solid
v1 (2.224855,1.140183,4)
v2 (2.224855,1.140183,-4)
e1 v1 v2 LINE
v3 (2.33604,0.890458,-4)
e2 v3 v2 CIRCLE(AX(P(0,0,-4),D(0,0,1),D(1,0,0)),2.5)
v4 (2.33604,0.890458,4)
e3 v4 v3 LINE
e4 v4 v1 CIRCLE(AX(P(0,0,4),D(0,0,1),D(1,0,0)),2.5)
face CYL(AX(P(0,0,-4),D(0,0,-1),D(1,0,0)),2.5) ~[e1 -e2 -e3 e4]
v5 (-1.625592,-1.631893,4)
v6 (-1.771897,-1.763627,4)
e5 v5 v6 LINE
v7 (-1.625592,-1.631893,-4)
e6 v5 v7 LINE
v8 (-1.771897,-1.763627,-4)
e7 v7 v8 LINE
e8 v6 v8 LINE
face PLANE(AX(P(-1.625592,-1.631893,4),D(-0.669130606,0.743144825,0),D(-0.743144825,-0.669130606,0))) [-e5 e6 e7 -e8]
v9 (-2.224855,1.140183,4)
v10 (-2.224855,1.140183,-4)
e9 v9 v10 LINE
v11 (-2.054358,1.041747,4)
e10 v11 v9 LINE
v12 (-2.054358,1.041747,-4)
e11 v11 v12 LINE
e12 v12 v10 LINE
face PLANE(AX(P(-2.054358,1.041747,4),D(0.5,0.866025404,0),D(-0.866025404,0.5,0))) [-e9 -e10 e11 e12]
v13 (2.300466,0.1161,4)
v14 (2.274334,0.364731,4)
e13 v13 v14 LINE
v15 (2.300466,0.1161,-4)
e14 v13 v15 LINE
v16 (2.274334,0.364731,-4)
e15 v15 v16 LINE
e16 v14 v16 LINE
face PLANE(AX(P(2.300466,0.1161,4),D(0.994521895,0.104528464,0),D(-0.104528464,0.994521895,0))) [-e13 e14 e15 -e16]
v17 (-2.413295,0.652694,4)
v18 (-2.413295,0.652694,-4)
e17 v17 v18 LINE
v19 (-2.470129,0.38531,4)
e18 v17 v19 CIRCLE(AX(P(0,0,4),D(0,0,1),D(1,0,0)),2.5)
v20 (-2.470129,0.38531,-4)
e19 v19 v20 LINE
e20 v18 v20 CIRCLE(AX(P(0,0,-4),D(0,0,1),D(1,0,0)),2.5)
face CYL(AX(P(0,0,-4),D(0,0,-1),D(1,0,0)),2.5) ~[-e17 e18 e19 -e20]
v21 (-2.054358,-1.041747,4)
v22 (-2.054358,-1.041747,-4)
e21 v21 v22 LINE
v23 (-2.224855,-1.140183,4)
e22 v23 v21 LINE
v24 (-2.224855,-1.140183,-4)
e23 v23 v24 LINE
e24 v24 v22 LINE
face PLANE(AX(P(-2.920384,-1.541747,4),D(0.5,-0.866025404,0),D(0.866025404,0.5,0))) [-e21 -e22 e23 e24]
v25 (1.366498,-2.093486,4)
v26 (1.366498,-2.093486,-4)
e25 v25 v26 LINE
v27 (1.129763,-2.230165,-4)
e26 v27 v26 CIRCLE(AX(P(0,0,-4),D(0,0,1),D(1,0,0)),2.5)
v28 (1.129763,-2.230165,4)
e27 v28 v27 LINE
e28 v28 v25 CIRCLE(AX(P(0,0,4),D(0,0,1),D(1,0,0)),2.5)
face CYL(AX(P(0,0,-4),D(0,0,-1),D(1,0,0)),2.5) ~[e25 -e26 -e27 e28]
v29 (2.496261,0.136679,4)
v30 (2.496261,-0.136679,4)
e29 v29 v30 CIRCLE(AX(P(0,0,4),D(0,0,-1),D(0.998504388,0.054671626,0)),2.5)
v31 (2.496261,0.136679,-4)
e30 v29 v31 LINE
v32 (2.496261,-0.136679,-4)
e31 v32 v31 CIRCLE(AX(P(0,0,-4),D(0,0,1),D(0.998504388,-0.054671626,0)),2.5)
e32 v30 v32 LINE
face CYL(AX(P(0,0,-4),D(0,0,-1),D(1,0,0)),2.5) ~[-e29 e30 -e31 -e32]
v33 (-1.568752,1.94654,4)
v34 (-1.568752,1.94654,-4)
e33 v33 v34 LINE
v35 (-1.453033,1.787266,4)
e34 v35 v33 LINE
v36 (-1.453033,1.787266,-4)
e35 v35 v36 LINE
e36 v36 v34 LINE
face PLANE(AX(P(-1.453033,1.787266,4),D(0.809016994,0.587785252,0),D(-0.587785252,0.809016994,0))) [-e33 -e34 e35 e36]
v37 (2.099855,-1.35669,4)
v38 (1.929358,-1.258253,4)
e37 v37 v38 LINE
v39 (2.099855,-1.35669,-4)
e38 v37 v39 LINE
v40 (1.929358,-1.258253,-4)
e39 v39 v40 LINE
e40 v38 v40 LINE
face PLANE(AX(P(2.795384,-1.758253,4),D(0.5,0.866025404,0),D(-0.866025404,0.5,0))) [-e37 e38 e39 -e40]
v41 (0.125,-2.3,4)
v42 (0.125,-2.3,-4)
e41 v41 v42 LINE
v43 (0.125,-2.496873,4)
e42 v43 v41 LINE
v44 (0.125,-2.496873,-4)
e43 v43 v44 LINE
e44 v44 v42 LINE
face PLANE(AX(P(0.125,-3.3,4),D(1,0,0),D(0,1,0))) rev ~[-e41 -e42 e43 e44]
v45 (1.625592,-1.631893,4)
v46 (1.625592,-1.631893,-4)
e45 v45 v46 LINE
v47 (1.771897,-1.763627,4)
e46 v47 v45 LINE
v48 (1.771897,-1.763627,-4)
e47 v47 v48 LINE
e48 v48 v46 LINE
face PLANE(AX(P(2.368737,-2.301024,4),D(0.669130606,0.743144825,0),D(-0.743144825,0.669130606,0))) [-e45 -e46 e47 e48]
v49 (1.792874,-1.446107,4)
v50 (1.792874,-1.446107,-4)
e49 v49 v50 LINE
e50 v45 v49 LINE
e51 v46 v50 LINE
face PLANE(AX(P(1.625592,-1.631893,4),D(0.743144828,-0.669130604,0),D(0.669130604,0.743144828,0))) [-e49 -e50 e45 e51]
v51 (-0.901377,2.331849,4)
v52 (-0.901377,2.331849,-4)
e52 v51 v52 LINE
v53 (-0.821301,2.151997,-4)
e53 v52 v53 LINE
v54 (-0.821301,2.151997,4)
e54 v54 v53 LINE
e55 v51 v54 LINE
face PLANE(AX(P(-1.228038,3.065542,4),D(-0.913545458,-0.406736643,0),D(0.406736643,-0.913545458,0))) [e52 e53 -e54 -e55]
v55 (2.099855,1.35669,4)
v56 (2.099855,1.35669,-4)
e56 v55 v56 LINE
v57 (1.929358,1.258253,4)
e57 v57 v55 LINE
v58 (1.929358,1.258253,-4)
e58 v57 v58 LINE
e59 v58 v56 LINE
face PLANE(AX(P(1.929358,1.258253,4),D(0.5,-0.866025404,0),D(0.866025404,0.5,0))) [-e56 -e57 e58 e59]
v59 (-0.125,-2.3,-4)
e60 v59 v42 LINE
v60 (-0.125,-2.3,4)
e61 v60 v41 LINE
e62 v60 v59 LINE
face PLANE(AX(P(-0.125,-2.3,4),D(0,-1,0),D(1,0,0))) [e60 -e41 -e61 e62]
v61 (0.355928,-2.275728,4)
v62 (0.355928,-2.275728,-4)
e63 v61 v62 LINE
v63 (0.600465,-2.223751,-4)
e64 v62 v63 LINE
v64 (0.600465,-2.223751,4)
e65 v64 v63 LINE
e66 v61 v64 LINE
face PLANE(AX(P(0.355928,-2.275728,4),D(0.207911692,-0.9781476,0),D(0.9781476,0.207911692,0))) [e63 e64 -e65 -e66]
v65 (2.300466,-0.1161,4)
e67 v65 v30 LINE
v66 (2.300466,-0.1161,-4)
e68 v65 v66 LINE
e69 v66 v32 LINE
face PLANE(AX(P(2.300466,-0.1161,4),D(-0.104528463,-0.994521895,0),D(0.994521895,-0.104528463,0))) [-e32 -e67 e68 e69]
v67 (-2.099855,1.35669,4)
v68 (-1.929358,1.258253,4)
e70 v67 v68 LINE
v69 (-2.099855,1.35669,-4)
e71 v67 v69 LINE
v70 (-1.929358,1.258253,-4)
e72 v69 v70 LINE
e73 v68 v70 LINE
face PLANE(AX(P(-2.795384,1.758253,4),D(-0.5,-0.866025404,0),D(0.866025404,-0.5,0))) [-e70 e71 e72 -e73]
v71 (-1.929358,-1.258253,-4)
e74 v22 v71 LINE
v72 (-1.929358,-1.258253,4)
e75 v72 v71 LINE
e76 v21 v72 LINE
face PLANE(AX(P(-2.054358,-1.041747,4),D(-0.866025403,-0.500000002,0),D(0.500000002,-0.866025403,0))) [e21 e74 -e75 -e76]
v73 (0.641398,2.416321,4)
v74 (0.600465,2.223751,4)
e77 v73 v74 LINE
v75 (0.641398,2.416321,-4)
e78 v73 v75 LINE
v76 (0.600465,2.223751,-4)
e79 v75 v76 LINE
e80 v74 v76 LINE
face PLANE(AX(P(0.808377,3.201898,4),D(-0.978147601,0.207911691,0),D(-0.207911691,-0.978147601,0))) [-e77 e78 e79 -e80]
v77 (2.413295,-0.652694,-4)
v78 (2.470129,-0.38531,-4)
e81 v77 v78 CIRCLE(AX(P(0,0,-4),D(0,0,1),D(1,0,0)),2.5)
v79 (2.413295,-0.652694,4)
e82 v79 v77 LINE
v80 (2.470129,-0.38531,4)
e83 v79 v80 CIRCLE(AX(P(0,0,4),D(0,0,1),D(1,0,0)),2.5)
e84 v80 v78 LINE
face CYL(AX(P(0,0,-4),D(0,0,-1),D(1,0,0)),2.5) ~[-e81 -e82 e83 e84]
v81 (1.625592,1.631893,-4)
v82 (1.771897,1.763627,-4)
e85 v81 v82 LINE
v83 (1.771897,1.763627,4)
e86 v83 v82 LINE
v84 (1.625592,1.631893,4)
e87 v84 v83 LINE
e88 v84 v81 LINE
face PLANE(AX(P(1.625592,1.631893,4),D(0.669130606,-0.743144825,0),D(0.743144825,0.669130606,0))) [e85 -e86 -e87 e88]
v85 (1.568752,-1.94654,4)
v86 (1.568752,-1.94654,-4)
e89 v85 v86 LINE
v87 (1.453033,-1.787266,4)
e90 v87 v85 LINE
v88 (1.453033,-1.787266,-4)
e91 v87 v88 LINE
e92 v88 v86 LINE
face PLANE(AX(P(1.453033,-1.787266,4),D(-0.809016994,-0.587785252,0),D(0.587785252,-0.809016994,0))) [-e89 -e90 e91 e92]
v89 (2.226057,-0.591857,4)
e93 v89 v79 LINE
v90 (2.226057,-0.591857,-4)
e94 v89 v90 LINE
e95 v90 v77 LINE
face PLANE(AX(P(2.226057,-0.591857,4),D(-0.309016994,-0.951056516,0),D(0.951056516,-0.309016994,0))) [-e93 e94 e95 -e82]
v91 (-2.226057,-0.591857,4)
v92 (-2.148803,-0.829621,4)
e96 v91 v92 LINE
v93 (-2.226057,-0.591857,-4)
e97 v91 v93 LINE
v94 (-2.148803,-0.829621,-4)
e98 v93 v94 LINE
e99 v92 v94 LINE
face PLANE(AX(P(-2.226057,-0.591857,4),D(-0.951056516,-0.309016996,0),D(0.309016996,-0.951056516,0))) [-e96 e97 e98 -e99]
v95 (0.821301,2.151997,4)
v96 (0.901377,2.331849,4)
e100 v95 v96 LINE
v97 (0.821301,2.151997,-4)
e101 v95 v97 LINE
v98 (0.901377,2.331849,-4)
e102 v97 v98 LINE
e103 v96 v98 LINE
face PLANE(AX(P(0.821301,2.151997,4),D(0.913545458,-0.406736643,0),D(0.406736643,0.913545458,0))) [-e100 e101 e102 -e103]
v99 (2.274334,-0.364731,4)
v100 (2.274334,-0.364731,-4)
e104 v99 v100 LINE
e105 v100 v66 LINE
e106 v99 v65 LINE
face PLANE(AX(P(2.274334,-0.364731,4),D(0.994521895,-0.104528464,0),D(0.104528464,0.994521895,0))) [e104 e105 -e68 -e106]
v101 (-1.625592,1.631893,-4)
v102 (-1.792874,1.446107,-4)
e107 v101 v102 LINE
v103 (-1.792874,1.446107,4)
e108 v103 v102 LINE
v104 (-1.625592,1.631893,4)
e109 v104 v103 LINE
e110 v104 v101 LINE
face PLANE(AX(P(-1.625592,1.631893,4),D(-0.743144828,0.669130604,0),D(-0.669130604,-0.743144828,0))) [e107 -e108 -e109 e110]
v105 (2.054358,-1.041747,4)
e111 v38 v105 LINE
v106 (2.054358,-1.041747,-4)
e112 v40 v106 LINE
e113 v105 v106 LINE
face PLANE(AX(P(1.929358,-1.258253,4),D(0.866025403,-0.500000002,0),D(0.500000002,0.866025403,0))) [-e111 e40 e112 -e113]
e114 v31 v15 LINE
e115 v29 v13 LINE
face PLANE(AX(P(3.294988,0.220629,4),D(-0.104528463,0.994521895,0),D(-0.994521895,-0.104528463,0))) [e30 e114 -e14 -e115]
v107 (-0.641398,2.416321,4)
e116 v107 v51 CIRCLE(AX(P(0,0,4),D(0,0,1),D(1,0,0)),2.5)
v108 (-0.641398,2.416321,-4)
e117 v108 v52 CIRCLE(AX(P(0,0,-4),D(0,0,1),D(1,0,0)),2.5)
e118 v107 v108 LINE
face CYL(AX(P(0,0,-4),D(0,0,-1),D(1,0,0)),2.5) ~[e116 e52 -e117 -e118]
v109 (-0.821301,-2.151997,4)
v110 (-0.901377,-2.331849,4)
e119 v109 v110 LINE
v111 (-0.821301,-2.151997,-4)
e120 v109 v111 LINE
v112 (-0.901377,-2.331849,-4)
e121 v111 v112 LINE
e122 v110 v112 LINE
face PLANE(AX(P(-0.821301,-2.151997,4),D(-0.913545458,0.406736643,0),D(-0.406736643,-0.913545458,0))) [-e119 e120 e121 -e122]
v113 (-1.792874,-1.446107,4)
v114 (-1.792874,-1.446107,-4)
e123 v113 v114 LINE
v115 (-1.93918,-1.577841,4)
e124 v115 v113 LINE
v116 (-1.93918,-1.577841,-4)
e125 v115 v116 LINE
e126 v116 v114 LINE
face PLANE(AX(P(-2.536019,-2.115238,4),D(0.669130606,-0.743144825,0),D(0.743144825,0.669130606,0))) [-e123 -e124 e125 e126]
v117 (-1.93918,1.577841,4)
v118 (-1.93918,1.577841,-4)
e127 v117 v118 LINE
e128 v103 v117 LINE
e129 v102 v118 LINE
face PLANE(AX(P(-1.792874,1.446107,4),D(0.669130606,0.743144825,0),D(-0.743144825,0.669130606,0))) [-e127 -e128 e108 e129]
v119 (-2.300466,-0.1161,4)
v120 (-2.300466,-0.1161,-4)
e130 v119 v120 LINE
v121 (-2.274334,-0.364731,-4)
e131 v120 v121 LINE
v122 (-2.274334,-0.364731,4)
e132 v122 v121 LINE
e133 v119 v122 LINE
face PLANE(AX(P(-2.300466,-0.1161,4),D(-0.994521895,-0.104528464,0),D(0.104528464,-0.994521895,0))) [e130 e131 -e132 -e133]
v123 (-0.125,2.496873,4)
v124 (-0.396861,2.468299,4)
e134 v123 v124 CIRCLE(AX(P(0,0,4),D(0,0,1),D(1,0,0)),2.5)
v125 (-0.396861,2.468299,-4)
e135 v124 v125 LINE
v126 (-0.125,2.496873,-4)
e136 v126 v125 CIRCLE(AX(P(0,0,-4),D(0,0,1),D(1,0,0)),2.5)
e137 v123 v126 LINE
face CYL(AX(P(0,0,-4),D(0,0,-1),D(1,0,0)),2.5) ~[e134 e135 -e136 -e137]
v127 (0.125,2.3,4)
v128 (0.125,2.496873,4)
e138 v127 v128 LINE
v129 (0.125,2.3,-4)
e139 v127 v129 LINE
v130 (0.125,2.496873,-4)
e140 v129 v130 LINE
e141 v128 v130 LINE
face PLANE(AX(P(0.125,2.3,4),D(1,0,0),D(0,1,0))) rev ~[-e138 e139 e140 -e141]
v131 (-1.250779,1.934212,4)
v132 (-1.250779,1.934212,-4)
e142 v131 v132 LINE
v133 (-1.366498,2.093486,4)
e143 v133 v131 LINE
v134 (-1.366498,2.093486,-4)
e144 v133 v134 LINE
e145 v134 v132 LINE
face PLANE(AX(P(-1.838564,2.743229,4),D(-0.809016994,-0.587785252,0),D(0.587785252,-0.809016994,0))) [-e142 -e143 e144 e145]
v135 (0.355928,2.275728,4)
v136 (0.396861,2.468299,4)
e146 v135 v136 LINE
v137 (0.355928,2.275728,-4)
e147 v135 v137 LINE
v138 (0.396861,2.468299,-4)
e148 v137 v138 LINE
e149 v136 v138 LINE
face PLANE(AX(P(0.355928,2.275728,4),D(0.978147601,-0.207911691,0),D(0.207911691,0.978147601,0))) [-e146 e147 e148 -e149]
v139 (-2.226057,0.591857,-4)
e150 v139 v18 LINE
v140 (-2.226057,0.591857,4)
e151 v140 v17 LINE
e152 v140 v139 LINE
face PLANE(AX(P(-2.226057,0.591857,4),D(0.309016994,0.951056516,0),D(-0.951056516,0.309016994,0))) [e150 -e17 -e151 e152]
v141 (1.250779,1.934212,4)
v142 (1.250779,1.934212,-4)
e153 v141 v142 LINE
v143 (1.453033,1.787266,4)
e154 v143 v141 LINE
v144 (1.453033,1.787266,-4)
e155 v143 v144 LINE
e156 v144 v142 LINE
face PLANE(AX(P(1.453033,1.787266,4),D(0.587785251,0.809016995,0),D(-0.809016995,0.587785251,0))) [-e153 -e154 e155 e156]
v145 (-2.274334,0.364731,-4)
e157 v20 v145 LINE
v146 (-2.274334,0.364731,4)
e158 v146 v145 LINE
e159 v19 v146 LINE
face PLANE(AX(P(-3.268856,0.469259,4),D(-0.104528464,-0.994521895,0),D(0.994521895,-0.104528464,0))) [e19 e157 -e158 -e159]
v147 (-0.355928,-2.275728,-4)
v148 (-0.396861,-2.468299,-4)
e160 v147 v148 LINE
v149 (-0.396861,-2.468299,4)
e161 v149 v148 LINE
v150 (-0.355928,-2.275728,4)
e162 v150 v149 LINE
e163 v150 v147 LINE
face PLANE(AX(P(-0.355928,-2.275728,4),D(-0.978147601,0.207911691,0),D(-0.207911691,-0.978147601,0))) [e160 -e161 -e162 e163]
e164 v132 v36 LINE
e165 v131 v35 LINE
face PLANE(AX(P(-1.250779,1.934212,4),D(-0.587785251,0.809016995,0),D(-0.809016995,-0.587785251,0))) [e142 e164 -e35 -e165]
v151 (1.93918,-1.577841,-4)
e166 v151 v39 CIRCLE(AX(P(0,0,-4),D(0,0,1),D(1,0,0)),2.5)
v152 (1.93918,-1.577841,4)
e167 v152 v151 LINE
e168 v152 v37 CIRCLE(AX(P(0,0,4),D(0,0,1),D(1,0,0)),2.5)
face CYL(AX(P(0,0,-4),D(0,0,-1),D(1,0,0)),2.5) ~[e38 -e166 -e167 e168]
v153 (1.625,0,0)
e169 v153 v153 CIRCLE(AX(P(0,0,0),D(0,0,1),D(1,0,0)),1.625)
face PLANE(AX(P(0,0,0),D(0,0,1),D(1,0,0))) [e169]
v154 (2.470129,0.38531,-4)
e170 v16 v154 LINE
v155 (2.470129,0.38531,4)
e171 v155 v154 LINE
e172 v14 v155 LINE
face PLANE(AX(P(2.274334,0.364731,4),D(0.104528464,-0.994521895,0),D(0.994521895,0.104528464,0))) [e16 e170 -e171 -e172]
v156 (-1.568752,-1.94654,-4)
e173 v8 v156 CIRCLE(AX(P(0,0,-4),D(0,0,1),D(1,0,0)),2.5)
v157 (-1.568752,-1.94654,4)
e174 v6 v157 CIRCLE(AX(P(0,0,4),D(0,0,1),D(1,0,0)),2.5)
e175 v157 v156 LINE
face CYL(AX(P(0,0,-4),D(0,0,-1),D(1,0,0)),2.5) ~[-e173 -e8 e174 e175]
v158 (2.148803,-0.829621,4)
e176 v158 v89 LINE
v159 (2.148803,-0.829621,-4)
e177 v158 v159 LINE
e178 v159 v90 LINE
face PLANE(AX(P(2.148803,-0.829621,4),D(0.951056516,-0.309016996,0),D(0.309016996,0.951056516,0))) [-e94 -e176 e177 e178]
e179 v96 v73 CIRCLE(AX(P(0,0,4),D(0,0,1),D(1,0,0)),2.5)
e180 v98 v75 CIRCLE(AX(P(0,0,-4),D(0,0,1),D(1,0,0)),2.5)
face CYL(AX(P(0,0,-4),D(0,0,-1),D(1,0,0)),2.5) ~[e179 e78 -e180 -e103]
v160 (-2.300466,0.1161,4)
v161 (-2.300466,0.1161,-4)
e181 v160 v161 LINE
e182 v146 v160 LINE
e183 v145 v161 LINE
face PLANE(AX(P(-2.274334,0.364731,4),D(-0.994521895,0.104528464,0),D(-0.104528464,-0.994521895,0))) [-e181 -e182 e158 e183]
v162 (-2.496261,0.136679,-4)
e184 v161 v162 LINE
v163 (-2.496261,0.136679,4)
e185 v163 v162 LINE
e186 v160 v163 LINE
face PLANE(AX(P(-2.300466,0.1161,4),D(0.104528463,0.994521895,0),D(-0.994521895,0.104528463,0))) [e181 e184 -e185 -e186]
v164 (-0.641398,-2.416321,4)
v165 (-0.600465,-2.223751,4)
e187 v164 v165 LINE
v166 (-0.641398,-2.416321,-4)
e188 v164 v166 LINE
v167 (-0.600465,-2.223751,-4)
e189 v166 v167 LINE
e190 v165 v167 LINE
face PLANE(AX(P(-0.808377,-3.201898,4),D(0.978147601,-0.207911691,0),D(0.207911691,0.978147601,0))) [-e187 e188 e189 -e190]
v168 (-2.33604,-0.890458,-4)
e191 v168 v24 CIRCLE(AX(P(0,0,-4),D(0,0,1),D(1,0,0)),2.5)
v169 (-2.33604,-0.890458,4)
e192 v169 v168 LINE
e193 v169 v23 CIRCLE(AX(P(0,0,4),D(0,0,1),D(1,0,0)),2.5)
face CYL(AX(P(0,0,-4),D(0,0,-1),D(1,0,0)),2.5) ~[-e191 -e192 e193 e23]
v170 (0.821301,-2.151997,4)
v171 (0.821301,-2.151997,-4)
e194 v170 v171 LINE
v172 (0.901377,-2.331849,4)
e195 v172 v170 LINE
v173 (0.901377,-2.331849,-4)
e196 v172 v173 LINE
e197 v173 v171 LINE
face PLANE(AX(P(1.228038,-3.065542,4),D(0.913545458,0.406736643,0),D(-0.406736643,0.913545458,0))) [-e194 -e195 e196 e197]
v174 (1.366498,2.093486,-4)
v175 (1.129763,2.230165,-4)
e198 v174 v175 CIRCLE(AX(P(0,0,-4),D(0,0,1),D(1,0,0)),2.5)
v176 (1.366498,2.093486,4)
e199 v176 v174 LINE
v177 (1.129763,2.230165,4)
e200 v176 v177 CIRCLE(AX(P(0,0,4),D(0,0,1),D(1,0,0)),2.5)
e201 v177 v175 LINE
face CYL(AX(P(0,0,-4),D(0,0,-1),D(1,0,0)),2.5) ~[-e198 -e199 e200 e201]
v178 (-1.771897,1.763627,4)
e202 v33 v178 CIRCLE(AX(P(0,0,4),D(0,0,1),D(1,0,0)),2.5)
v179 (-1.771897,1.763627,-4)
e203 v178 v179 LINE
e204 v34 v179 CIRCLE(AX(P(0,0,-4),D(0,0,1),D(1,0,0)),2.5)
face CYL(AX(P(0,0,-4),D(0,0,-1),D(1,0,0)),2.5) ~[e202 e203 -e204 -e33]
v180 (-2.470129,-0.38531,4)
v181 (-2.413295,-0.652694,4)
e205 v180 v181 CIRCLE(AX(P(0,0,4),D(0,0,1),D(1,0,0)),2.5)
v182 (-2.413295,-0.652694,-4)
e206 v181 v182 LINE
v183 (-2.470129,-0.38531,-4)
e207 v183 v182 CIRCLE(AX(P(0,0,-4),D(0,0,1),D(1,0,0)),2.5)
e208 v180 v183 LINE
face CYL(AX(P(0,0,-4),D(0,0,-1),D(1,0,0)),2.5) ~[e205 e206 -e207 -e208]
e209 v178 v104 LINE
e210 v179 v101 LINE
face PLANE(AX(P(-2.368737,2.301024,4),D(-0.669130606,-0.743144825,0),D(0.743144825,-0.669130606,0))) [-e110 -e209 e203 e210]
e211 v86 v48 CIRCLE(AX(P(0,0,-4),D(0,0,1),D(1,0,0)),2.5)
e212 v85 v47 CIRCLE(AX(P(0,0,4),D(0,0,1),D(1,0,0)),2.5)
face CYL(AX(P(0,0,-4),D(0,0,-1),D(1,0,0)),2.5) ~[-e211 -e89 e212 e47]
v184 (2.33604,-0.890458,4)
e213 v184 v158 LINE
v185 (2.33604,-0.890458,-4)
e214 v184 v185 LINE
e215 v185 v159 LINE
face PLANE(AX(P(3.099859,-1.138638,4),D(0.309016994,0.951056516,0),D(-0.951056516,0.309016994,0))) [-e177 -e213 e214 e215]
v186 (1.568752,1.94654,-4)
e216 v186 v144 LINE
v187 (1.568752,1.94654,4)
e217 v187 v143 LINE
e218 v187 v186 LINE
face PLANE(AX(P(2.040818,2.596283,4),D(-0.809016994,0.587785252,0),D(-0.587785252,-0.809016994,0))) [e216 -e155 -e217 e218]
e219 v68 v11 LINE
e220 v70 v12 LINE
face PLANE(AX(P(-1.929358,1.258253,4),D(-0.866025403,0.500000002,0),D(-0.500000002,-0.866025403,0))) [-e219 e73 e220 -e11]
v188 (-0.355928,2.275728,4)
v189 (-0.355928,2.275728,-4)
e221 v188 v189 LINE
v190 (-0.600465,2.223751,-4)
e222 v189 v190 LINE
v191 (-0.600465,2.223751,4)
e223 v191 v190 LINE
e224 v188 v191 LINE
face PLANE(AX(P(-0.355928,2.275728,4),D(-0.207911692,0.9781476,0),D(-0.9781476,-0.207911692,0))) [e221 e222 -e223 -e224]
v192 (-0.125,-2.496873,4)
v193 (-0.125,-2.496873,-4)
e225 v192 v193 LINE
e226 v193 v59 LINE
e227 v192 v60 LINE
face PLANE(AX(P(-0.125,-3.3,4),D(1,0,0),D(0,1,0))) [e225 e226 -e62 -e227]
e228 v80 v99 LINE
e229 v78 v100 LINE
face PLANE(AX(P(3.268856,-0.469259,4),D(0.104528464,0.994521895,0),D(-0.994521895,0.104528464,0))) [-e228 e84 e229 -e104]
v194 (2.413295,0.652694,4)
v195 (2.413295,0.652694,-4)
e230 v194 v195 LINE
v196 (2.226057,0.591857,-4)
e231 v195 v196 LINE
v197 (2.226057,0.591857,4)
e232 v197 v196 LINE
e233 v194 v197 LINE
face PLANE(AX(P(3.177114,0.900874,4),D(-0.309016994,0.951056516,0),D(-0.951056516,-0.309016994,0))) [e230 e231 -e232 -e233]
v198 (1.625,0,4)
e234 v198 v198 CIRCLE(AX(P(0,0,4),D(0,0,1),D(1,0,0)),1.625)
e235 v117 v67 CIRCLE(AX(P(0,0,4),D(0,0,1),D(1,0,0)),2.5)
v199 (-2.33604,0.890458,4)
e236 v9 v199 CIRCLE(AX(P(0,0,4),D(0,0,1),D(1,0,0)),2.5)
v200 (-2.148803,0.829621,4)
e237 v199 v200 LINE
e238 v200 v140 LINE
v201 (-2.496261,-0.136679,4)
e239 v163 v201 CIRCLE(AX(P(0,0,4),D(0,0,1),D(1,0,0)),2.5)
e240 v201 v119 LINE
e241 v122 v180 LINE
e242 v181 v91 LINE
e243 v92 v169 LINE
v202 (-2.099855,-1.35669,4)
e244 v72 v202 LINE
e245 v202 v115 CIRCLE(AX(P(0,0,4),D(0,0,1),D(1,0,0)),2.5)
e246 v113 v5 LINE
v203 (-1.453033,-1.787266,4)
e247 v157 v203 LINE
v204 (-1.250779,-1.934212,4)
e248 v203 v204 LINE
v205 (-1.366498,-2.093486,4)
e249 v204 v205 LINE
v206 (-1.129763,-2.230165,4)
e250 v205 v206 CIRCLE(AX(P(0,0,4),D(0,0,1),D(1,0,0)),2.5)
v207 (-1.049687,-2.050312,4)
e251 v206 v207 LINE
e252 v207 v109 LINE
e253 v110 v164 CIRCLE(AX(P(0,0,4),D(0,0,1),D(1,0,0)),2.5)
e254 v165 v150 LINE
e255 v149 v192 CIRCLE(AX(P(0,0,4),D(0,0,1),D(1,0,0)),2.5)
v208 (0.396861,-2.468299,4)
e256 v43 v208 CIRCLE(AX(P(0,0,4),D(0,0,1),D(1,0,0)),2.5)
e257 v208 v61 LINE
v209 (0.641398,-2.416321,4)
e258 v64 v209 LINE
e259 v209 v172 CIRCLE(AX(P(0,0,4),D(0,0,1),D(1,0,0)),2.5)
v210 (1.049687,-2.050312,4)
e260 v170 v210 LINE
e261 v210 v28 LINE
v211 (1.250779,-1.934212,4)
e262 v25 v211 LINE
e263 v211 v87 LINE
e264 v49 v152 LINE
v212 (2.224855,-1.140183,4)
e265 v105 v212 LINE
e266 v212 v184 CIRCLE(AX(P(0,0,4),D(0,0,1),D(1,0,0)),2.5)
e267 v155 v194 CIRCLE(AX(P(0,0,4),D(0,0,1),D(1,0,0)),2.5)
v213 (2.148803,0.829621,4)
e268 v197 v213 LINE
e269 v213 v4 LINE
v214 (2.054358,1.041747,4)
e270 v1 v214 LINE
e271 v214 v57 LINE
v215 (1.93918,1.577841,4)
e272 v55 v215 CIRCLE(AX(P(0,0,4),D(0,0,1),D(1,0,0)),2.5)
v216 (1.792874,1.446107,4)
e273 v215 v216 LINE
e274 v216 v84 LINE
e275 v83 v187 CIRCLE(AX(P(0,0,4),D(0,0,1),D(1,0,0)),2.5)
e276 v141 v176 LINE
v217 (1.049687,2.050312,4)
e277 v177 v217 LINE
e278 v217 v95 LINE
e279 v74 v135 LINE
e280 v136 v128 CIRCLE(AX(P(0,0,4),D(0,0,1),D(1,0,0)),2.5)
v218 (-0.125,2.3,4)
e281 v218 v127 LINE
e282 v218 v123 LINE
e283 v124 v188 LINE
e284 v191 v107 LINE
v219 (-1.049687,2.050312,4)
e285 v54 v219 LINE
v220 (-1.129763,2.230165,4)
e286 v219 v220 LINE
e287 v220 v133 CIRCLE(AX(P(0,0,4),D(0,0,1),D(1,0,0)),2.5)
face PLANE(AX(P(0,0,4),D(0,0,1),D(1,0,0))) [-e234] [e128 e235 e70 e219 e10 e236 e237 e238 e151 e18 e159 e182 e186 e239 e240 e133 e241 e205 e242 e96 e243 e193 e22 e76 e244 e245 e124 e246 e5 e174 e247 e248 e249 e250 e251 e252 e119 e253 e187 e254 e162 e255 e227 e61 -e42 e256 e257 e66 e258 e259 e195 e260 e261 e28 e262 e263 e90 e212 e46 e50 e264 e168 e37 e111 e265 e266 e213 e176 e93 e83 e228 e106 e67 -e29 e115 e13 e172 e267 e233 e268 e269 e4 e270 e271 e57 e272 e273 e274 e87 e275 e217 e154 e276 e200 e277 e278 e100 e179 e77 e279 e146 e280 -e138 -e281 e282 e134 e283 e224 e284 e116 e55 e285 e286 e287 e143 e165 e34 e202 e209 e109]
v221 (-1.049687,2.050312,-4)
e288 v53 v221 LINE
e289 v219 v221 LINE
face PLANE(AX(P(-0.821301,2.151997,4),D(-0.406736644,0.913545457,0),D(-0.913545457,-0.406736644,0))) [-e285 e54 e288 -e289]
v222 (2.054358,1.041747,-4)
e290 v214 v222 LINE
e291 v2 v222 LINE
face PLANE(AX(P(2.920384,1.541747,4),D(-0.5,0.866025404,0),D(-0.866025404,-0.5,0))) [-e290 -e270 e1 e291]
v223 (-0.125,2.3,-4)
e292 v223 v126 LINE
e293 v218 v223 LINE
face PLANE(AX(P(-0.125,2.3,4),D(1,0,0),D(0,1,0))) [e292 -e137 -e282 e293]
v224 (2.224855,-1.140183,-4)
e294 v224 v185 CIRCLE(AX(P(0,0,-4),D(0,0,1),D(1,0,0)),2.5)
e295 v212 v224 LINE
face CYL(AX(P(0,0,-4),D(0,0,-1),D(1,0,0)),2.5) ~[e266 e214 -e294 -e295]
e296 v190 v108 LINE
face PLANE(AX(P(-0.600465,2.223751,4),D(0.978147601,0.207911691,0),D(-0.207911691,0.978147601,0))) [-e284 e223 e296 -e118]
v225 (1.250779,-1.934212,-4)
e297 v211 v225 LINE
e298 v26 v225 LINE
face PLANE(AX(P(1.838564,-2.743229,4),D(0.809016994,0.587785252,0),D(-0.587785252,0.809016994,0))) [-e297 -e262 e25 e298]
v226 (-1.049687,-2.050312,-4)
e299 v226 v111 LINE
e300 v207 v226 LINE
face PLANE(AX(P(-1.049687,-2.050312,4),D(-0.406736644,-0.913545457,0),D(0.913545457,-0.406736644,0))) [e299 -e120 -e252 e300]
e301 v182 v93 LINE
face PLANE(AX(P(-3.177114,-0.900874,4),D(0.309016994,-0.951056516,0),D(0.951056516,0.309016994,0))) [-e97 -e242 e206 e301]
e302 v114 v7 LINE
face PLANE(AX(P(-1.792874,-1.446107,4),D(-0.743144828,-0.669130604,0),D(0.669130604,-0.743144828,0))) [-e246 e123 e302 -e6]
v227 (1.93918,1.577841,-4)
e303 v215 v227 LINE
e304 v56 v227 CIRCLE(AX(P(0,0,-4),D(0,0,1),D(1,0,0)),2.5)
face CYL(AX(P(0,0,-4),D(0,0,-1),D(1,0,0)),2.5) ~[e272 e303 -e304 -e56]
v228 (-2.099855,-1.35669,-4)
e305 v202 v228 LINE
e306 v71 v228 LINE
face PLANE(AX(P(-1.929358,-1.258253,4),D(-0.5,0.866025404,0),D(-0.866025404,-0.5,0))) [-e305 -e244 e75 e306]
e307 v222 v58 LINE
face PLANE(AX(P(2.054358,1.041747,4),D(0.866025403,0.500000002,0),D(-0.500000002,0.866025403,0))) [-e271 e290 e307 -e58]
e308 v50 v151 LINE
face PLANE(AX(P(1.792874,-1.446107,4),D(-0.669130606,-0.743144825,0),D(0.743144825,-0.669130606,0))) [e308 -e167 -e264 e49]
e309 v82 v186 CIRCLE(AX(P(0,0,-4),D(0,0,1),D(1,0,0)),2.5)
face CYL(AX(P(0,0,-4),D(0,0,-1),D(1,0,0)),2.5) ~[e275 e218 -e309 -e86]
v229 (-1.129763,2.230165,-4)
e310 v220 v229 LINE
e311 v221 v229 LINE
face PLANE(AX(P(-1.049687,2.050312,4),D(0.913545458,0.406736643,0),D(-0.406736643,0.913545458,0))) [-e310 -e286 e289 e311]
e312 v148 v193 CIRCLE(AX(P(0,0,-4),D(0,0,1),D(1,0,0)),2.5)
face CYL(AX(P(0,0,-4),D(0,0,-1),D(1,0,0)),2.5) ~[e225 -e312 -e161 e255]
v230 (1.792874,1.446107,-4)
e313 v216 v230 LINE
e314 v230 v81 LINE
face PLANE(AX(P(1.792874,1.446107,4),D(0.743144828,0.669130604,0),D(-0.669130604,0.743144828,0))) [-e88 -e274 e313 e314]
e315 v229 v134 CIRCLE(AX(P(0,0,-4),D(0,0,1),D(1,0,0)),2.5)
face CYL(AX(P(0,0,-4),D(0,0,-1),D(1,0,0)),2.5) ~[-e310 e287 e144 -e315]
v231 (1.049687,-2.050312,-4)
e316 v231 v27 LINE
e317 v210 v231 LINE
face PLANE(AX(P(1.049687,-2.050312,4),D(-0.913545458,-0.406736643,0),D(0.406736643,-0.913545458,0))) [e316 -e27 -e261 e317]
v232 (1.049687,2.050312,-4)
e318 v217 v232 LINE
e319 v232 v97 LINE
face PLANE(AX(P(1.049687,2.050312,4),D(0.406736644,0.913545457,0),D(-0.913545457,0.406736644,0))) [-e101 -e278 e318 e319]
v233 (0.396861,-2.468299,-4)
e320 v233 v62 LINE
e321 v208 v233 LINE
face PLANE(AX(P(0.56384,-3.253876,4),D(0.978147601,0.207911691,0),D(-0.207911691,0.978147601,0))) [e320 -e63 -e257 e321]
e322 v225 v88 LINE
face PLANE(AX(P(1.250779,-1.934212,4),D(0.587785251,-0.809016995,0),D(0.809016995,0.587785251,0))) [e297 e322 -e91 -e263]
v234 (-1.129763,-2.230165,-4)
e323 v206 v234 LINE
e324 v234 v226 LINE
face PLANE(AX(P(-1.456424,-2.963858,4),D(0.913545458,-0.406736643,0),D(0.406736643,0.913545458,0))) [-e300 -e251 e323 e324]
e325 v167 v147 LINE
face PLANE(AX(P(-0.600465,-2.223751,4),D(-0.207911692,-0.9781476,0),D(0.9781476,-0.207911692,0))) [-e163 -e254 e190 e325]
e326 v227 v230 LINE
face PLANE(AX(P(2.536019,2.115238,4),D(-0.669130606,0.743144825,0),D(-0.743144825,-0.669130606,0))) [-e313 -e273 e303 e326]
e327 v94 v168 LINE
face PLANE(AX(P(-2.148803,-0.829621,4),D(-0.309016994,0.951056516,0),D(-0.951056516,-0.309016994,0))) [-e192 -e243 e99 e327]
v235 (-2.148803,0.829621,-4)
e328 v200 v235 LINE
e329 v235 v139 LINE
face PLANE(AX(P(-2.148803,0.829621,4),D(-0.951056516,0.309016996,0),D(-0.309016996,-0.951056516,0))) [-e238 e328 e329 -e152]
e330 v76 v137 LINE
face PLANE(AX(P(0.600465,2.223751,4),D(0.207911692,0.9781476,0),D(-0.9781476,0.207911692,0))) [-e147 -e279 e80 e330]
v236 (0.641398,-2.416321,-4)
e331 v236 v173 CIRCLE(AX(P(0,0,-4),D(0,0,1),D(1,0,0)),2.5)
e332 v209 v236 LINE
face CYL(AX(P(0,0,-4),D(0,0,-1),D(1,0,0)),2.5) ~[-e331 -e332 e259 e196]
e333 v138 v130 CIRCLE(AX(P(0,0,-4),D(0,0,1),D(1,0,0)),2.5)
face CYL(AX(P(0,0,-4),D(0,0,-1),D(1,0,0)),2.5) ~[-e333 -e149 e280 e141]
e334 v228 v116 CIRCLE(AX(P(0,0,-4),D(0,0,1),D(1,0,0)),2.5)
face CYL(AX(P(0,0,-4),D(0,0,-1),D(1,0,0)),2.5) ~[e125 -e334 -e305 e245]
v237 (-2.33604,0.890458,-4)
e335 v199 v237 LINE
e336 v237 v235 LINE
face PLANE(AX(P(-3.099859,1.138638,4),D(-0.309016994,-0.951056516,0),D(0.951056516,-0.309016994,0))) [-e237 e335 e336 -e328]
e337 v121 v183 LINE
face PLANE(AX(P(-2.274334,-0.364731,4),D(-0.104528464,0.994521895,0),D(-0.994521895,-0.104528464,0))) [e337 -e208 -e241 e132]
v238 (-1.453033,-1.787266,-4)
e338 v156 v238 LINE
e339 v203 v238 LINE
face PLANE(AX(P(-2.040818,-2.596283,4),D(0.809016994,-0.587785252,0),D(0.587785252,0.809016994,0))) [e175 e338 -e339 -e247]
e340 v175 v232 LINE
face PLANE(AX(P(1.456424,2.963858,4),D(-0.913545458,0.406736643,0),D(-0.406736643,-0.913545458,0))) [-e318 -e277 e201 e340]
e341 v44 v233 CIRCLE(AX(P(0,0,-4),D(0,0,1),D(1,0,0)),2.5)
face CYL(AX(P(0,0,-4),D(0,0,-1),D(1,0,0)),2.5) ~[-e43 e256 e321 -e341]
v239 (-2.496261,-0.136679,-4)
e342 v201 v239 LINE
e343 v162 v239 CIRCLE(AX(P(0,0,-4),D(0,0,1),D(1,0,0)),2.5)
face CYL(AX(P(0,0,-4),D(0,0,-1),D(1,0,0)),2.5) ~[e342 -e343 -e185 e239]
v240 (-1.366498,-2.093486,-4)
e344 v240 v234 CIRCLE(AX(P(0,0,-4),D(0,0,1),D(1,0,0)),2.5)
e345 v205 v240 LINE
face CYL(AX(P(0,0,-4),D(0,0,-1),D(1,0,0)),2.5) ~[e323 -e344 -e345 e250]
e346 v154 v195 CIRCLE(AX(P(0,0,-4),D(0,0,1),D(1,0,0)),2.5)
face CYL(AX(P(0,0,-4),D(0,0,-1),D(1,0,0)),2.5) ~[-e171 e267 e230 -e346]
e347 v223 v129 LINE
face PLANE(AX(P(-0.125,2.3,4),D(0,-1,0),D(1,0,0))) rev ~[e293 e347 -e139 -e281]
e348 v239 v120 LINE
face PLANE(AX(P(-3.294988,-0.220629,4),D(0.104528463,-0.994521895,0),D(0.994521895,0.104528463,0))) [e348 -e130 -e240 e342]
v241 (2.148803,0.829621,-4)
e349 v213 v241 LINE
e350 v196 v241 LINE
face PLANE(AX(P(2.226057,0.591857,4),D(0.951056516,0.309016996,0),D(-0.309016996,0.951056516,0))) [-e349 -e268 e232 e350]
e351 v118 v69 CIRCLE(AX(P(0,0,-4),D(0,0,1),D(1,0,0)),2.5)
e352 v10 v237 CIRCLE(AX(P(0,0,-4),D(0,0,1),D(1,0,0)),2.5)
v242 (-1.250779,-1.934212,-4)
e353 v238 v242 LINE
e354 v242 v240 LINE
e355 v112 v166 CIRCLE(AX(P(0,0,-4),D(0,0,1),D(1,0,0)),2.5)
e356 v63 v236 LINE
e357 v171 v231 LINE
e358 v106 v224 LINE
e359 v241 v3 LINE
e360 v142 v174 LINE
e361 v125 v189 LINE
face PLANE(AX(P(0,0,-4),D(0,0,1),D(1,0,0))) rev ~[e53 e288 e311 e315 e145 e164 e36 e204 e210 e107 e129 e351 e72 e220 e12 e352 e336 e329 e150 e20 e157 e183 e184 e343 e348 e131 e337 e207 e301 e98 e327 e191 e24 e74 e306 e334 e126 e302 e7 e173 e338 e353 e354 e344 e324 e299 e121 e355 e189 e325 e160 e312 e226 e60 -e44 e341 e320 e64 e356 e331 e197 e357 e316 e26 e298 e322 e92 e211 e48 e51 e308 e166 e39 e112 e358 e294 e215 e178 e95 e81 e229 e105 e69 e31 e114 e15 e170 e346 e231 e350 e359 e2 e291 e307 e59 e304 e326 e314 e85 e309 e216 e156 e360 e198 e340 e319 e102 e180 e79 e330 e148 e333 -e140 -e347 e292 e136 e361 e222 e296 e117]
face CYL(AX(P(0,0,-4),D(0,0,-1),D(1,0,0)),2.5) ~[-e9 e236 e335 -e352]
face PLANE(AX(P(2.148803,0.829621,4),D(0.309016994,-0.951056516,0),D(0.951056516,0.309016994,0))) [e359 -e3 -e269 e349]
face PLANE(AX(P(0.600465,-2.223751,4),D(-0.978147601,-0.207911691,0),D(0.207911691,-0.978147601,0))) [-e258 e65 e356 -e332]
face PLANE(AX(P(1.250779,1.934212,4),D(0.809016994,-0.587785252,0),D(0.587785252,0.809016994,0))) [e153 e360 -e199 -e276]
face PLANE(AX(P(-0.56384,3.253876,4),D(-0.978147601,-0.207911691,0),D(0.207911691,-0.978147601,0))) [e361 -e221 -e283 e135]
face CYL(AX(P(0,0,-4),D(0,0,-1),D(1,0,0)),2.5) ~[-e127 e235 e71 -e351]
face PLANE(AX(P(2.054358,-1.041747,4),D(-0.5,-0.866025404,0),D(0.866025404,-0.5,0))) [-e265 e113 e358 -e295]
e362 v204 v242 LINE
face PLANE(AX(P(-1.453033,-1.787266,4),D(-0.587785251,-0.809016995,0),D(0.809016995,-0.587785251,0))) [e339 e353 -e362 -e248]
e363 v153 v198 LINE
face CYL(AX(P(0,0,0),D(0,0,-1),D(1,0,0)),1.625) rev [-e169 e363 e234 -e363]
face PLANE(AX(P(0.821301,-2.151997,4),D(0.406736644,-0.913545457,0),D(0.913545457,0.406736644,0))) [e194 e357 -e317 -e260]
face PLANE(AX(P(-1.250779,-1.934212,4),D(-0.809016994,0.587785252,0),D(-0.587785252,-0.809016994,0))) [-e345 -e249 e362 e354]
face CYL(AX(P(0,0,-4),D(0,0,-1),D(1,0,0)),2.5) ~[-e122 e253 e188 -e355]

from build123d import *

# Parameters (mm, degrees)
SKETCH1_R           = 2.5
SKETCH1_R_2         = 1.625
BOSS_EXTRUDE1_DEPTH = 4
BOSS_EXTRUDE2_START = -4
SKETCH1_2_R         = 2.5
BOSS_EXTRUDE2_DEPTH = 4
SKETCH2_W           = 0.25
SKETCH2_H           = 1
CUT_EXTRUDE1_DEPTH  = 9.746427842


with BuildPart() as part:
    # Sketch1 → Boss-Extrude1 (new body)
    with BuildSketch(Plane.XY):
        Circle(SKETCH1_R)
        Circle(SKETCH1_R_2, mode=Mode.SUBTRACT)
    extrude(amount=BOSS_EXTRUDE1_DEPTH)

    # Sketch1<2> → Boss-Extrude2 (add)
    with BuildSketch(Plane.XY.offset(BOSS_EXTRUDE2_START)):
        Circle(SKETCH1_2_R)
    extrude(amount=BOSS_EXTRUDE2_DEPTH)

    # Sketch2 → Cut-Extrude1 (cut, through all)
    with BuildSketch(Plane.XY.offset(4)):
        Polygon((0.355928439, 2.275728443), (0.56384013, 3.253876044), (0.80837703, 3.201898121), (0.600465339, 2.22375052), align=None)
        with Locations((0, 2.8)):
            Rectangle(SKETCH2_W, SKETCH2_H)
        Polygon((0.821301097, 2.151996633), (1.22803774, 3.065542091), (1.456424104, 2.96385793), (1.049687461, 2.050312472), align=None)
        Polygon((1.250778956, 1.934212244), (1.838564208, 2.743229238), (2.040818457, 2.596282925), (1.453033205, 1.787265931), align=None)
        Polygon((1.625591773, 1.631893498), (2.368736598, 2.301024104), (2.53601925, 2.115237898), (1.792874424, 1.446107291), align=None)
        Polygon((1.929358429, 1.258253175), (2.795383832, 1.758253175), (2.920383832, 1.541746825), (2.054358429, 1.041746825), align=None)
        Polygon((2.148802863, 0.829621152), (3.099859379, 1.138638146), (3.177113628, 0.900874017), (2.226057112, 0.591857023), align=None)
        Polygon((2.274334301, 0.364730702), (3.268856197, 0.469259166), (3.294988313, 0.220628692), (2.300466417, 0.116100229), align=None)
        Polygon((2.300466417, -0.116100229), (3.294988313, -0.220628692), (3.268856197, -0.469259166), (2.274334301, -0.364730702), align=None)
        Polygon((2.226057112, -0.591857023), (3.177113628, -0.900874017), (3.099859379, -1.138638146), (2.148802863, -0.829621152), align=None)
        Polygon((2.054358429, -1.041746825), (2.920383832, -1.541746825), (2.795383832, -1.758253175), (1.929358429, -1.258253175), align=None)
        Polygon((1.792874424, -1.446107291), (2.53601925, -2.115237898), (2.368736598, -2.301024104), (1.625591773, -1.631893498), align=None)
        Polygon((1.453033205, -1.787265931), (2.040818457, -2.596282925), (1.838564208, -2.743229238), (1.250778956, -1.934212244), align=None)
        Polygon((1.049687461, -2.050312472), (1.456424104, -2.96385793), (1.22803774, -3.065542091), (0.821301097, -2.151996633), align=None)
        Polygon((0.600465339, -2.22375052), (0.80837703, -3.201898121), (0.56384013, -3.253876044), (0.355928439, -2.275728443), align=None)
        with Locations((0, -2.8)):
            Rectangle(SKETCH2_W, SKETCH2_H)
        Polygon((-0.355928439, -2.275728443), (-0.56384013, -3.253876044), (-0.80837703, -3.201898121), (-0.600465339, -2.22375052), align=None)
        Polygon((-0.821301097, -2.151996633), (-1.22803774, -3.065542091), (-1.456424104, -2.96385793), (-1.049687461, -2.050312472), align=None)
        Polygon((-1.250778956, -1.934212244), (-1.838564208, -2.743229238), (-2.040818457, -2.596282925), (-1.453033205, -1.787265931), align=None)
        Polygon((-1.625591773, -1.631893498), (-2.368736598, -2.301024104), (-2.53601925, -2.115237898), (-1.792874424, -1.446107291), align=None)
        Polygon((-1.929358429, -1.258253175), (-2.795383832, -1.758253175), (-2.920383832, -1.541746825), (-2.054358429, -1.041746825), align=None)
        Polygon((-2.148802863, -0.829621152), (-3.099859379, -1.138638146), (-3.177113628, -0.900874017), (-2.226057112, -0.591857023), align=None)
        Polygon((-2.274334301, -0.364730702), (-3.268856197, -0.469259166), (-3.294988313, -0.220628692), (-2.300466417, -0.116100229), align=None)
        Polygon((-2.300466417, 0.116100229), (-3.294988313, 0.220628692), (-3.268856197, 0.469259166), (-2.274334301, 0.364730702), align=None)
        Polygon((-2.226057112, 0.591857023), (-3.177113628, 0.900874017), (-3.099859379, 1.138638146), (-2.148802863, 0.829621152), align=None)
        Polygon((-2.054358429, 1.041746825), (-2.920383832, 1.541746825), (-2.795383832, 1.758253175), (-1.929358429, 1.258253175), align=None)
        Polygon((-1.792874424, 1.446107291), (-2.53601925, 2.115237898), (-2.368736598, 2.301024104), (-1.625591773, 1.631893498), align=None)
        Polygon((-1.453033205, 1.787265931), (-2.040818457, 2.596282925), (-1.838564208, 2.743229238), (-1.250778956, 1.934212244), align=None)
        Polygon((-1.049687461, 2.050312472), (-1.456424104, 2.96385793), (-1.22803774, 3.065542091), (-0.821301097, 2.151996633), align=None)
        Polygon((-0.600465339, 2.22375052), (-0.80837703, 3.201898121), (-0.56384013, 3.253876044), (-0.355928439, 2.275728443), align=None)
    extrude(amount=-CUT_EXTRUDE1_DEPTH, mode=Mode.SUBTRACT)


solid = part.part
